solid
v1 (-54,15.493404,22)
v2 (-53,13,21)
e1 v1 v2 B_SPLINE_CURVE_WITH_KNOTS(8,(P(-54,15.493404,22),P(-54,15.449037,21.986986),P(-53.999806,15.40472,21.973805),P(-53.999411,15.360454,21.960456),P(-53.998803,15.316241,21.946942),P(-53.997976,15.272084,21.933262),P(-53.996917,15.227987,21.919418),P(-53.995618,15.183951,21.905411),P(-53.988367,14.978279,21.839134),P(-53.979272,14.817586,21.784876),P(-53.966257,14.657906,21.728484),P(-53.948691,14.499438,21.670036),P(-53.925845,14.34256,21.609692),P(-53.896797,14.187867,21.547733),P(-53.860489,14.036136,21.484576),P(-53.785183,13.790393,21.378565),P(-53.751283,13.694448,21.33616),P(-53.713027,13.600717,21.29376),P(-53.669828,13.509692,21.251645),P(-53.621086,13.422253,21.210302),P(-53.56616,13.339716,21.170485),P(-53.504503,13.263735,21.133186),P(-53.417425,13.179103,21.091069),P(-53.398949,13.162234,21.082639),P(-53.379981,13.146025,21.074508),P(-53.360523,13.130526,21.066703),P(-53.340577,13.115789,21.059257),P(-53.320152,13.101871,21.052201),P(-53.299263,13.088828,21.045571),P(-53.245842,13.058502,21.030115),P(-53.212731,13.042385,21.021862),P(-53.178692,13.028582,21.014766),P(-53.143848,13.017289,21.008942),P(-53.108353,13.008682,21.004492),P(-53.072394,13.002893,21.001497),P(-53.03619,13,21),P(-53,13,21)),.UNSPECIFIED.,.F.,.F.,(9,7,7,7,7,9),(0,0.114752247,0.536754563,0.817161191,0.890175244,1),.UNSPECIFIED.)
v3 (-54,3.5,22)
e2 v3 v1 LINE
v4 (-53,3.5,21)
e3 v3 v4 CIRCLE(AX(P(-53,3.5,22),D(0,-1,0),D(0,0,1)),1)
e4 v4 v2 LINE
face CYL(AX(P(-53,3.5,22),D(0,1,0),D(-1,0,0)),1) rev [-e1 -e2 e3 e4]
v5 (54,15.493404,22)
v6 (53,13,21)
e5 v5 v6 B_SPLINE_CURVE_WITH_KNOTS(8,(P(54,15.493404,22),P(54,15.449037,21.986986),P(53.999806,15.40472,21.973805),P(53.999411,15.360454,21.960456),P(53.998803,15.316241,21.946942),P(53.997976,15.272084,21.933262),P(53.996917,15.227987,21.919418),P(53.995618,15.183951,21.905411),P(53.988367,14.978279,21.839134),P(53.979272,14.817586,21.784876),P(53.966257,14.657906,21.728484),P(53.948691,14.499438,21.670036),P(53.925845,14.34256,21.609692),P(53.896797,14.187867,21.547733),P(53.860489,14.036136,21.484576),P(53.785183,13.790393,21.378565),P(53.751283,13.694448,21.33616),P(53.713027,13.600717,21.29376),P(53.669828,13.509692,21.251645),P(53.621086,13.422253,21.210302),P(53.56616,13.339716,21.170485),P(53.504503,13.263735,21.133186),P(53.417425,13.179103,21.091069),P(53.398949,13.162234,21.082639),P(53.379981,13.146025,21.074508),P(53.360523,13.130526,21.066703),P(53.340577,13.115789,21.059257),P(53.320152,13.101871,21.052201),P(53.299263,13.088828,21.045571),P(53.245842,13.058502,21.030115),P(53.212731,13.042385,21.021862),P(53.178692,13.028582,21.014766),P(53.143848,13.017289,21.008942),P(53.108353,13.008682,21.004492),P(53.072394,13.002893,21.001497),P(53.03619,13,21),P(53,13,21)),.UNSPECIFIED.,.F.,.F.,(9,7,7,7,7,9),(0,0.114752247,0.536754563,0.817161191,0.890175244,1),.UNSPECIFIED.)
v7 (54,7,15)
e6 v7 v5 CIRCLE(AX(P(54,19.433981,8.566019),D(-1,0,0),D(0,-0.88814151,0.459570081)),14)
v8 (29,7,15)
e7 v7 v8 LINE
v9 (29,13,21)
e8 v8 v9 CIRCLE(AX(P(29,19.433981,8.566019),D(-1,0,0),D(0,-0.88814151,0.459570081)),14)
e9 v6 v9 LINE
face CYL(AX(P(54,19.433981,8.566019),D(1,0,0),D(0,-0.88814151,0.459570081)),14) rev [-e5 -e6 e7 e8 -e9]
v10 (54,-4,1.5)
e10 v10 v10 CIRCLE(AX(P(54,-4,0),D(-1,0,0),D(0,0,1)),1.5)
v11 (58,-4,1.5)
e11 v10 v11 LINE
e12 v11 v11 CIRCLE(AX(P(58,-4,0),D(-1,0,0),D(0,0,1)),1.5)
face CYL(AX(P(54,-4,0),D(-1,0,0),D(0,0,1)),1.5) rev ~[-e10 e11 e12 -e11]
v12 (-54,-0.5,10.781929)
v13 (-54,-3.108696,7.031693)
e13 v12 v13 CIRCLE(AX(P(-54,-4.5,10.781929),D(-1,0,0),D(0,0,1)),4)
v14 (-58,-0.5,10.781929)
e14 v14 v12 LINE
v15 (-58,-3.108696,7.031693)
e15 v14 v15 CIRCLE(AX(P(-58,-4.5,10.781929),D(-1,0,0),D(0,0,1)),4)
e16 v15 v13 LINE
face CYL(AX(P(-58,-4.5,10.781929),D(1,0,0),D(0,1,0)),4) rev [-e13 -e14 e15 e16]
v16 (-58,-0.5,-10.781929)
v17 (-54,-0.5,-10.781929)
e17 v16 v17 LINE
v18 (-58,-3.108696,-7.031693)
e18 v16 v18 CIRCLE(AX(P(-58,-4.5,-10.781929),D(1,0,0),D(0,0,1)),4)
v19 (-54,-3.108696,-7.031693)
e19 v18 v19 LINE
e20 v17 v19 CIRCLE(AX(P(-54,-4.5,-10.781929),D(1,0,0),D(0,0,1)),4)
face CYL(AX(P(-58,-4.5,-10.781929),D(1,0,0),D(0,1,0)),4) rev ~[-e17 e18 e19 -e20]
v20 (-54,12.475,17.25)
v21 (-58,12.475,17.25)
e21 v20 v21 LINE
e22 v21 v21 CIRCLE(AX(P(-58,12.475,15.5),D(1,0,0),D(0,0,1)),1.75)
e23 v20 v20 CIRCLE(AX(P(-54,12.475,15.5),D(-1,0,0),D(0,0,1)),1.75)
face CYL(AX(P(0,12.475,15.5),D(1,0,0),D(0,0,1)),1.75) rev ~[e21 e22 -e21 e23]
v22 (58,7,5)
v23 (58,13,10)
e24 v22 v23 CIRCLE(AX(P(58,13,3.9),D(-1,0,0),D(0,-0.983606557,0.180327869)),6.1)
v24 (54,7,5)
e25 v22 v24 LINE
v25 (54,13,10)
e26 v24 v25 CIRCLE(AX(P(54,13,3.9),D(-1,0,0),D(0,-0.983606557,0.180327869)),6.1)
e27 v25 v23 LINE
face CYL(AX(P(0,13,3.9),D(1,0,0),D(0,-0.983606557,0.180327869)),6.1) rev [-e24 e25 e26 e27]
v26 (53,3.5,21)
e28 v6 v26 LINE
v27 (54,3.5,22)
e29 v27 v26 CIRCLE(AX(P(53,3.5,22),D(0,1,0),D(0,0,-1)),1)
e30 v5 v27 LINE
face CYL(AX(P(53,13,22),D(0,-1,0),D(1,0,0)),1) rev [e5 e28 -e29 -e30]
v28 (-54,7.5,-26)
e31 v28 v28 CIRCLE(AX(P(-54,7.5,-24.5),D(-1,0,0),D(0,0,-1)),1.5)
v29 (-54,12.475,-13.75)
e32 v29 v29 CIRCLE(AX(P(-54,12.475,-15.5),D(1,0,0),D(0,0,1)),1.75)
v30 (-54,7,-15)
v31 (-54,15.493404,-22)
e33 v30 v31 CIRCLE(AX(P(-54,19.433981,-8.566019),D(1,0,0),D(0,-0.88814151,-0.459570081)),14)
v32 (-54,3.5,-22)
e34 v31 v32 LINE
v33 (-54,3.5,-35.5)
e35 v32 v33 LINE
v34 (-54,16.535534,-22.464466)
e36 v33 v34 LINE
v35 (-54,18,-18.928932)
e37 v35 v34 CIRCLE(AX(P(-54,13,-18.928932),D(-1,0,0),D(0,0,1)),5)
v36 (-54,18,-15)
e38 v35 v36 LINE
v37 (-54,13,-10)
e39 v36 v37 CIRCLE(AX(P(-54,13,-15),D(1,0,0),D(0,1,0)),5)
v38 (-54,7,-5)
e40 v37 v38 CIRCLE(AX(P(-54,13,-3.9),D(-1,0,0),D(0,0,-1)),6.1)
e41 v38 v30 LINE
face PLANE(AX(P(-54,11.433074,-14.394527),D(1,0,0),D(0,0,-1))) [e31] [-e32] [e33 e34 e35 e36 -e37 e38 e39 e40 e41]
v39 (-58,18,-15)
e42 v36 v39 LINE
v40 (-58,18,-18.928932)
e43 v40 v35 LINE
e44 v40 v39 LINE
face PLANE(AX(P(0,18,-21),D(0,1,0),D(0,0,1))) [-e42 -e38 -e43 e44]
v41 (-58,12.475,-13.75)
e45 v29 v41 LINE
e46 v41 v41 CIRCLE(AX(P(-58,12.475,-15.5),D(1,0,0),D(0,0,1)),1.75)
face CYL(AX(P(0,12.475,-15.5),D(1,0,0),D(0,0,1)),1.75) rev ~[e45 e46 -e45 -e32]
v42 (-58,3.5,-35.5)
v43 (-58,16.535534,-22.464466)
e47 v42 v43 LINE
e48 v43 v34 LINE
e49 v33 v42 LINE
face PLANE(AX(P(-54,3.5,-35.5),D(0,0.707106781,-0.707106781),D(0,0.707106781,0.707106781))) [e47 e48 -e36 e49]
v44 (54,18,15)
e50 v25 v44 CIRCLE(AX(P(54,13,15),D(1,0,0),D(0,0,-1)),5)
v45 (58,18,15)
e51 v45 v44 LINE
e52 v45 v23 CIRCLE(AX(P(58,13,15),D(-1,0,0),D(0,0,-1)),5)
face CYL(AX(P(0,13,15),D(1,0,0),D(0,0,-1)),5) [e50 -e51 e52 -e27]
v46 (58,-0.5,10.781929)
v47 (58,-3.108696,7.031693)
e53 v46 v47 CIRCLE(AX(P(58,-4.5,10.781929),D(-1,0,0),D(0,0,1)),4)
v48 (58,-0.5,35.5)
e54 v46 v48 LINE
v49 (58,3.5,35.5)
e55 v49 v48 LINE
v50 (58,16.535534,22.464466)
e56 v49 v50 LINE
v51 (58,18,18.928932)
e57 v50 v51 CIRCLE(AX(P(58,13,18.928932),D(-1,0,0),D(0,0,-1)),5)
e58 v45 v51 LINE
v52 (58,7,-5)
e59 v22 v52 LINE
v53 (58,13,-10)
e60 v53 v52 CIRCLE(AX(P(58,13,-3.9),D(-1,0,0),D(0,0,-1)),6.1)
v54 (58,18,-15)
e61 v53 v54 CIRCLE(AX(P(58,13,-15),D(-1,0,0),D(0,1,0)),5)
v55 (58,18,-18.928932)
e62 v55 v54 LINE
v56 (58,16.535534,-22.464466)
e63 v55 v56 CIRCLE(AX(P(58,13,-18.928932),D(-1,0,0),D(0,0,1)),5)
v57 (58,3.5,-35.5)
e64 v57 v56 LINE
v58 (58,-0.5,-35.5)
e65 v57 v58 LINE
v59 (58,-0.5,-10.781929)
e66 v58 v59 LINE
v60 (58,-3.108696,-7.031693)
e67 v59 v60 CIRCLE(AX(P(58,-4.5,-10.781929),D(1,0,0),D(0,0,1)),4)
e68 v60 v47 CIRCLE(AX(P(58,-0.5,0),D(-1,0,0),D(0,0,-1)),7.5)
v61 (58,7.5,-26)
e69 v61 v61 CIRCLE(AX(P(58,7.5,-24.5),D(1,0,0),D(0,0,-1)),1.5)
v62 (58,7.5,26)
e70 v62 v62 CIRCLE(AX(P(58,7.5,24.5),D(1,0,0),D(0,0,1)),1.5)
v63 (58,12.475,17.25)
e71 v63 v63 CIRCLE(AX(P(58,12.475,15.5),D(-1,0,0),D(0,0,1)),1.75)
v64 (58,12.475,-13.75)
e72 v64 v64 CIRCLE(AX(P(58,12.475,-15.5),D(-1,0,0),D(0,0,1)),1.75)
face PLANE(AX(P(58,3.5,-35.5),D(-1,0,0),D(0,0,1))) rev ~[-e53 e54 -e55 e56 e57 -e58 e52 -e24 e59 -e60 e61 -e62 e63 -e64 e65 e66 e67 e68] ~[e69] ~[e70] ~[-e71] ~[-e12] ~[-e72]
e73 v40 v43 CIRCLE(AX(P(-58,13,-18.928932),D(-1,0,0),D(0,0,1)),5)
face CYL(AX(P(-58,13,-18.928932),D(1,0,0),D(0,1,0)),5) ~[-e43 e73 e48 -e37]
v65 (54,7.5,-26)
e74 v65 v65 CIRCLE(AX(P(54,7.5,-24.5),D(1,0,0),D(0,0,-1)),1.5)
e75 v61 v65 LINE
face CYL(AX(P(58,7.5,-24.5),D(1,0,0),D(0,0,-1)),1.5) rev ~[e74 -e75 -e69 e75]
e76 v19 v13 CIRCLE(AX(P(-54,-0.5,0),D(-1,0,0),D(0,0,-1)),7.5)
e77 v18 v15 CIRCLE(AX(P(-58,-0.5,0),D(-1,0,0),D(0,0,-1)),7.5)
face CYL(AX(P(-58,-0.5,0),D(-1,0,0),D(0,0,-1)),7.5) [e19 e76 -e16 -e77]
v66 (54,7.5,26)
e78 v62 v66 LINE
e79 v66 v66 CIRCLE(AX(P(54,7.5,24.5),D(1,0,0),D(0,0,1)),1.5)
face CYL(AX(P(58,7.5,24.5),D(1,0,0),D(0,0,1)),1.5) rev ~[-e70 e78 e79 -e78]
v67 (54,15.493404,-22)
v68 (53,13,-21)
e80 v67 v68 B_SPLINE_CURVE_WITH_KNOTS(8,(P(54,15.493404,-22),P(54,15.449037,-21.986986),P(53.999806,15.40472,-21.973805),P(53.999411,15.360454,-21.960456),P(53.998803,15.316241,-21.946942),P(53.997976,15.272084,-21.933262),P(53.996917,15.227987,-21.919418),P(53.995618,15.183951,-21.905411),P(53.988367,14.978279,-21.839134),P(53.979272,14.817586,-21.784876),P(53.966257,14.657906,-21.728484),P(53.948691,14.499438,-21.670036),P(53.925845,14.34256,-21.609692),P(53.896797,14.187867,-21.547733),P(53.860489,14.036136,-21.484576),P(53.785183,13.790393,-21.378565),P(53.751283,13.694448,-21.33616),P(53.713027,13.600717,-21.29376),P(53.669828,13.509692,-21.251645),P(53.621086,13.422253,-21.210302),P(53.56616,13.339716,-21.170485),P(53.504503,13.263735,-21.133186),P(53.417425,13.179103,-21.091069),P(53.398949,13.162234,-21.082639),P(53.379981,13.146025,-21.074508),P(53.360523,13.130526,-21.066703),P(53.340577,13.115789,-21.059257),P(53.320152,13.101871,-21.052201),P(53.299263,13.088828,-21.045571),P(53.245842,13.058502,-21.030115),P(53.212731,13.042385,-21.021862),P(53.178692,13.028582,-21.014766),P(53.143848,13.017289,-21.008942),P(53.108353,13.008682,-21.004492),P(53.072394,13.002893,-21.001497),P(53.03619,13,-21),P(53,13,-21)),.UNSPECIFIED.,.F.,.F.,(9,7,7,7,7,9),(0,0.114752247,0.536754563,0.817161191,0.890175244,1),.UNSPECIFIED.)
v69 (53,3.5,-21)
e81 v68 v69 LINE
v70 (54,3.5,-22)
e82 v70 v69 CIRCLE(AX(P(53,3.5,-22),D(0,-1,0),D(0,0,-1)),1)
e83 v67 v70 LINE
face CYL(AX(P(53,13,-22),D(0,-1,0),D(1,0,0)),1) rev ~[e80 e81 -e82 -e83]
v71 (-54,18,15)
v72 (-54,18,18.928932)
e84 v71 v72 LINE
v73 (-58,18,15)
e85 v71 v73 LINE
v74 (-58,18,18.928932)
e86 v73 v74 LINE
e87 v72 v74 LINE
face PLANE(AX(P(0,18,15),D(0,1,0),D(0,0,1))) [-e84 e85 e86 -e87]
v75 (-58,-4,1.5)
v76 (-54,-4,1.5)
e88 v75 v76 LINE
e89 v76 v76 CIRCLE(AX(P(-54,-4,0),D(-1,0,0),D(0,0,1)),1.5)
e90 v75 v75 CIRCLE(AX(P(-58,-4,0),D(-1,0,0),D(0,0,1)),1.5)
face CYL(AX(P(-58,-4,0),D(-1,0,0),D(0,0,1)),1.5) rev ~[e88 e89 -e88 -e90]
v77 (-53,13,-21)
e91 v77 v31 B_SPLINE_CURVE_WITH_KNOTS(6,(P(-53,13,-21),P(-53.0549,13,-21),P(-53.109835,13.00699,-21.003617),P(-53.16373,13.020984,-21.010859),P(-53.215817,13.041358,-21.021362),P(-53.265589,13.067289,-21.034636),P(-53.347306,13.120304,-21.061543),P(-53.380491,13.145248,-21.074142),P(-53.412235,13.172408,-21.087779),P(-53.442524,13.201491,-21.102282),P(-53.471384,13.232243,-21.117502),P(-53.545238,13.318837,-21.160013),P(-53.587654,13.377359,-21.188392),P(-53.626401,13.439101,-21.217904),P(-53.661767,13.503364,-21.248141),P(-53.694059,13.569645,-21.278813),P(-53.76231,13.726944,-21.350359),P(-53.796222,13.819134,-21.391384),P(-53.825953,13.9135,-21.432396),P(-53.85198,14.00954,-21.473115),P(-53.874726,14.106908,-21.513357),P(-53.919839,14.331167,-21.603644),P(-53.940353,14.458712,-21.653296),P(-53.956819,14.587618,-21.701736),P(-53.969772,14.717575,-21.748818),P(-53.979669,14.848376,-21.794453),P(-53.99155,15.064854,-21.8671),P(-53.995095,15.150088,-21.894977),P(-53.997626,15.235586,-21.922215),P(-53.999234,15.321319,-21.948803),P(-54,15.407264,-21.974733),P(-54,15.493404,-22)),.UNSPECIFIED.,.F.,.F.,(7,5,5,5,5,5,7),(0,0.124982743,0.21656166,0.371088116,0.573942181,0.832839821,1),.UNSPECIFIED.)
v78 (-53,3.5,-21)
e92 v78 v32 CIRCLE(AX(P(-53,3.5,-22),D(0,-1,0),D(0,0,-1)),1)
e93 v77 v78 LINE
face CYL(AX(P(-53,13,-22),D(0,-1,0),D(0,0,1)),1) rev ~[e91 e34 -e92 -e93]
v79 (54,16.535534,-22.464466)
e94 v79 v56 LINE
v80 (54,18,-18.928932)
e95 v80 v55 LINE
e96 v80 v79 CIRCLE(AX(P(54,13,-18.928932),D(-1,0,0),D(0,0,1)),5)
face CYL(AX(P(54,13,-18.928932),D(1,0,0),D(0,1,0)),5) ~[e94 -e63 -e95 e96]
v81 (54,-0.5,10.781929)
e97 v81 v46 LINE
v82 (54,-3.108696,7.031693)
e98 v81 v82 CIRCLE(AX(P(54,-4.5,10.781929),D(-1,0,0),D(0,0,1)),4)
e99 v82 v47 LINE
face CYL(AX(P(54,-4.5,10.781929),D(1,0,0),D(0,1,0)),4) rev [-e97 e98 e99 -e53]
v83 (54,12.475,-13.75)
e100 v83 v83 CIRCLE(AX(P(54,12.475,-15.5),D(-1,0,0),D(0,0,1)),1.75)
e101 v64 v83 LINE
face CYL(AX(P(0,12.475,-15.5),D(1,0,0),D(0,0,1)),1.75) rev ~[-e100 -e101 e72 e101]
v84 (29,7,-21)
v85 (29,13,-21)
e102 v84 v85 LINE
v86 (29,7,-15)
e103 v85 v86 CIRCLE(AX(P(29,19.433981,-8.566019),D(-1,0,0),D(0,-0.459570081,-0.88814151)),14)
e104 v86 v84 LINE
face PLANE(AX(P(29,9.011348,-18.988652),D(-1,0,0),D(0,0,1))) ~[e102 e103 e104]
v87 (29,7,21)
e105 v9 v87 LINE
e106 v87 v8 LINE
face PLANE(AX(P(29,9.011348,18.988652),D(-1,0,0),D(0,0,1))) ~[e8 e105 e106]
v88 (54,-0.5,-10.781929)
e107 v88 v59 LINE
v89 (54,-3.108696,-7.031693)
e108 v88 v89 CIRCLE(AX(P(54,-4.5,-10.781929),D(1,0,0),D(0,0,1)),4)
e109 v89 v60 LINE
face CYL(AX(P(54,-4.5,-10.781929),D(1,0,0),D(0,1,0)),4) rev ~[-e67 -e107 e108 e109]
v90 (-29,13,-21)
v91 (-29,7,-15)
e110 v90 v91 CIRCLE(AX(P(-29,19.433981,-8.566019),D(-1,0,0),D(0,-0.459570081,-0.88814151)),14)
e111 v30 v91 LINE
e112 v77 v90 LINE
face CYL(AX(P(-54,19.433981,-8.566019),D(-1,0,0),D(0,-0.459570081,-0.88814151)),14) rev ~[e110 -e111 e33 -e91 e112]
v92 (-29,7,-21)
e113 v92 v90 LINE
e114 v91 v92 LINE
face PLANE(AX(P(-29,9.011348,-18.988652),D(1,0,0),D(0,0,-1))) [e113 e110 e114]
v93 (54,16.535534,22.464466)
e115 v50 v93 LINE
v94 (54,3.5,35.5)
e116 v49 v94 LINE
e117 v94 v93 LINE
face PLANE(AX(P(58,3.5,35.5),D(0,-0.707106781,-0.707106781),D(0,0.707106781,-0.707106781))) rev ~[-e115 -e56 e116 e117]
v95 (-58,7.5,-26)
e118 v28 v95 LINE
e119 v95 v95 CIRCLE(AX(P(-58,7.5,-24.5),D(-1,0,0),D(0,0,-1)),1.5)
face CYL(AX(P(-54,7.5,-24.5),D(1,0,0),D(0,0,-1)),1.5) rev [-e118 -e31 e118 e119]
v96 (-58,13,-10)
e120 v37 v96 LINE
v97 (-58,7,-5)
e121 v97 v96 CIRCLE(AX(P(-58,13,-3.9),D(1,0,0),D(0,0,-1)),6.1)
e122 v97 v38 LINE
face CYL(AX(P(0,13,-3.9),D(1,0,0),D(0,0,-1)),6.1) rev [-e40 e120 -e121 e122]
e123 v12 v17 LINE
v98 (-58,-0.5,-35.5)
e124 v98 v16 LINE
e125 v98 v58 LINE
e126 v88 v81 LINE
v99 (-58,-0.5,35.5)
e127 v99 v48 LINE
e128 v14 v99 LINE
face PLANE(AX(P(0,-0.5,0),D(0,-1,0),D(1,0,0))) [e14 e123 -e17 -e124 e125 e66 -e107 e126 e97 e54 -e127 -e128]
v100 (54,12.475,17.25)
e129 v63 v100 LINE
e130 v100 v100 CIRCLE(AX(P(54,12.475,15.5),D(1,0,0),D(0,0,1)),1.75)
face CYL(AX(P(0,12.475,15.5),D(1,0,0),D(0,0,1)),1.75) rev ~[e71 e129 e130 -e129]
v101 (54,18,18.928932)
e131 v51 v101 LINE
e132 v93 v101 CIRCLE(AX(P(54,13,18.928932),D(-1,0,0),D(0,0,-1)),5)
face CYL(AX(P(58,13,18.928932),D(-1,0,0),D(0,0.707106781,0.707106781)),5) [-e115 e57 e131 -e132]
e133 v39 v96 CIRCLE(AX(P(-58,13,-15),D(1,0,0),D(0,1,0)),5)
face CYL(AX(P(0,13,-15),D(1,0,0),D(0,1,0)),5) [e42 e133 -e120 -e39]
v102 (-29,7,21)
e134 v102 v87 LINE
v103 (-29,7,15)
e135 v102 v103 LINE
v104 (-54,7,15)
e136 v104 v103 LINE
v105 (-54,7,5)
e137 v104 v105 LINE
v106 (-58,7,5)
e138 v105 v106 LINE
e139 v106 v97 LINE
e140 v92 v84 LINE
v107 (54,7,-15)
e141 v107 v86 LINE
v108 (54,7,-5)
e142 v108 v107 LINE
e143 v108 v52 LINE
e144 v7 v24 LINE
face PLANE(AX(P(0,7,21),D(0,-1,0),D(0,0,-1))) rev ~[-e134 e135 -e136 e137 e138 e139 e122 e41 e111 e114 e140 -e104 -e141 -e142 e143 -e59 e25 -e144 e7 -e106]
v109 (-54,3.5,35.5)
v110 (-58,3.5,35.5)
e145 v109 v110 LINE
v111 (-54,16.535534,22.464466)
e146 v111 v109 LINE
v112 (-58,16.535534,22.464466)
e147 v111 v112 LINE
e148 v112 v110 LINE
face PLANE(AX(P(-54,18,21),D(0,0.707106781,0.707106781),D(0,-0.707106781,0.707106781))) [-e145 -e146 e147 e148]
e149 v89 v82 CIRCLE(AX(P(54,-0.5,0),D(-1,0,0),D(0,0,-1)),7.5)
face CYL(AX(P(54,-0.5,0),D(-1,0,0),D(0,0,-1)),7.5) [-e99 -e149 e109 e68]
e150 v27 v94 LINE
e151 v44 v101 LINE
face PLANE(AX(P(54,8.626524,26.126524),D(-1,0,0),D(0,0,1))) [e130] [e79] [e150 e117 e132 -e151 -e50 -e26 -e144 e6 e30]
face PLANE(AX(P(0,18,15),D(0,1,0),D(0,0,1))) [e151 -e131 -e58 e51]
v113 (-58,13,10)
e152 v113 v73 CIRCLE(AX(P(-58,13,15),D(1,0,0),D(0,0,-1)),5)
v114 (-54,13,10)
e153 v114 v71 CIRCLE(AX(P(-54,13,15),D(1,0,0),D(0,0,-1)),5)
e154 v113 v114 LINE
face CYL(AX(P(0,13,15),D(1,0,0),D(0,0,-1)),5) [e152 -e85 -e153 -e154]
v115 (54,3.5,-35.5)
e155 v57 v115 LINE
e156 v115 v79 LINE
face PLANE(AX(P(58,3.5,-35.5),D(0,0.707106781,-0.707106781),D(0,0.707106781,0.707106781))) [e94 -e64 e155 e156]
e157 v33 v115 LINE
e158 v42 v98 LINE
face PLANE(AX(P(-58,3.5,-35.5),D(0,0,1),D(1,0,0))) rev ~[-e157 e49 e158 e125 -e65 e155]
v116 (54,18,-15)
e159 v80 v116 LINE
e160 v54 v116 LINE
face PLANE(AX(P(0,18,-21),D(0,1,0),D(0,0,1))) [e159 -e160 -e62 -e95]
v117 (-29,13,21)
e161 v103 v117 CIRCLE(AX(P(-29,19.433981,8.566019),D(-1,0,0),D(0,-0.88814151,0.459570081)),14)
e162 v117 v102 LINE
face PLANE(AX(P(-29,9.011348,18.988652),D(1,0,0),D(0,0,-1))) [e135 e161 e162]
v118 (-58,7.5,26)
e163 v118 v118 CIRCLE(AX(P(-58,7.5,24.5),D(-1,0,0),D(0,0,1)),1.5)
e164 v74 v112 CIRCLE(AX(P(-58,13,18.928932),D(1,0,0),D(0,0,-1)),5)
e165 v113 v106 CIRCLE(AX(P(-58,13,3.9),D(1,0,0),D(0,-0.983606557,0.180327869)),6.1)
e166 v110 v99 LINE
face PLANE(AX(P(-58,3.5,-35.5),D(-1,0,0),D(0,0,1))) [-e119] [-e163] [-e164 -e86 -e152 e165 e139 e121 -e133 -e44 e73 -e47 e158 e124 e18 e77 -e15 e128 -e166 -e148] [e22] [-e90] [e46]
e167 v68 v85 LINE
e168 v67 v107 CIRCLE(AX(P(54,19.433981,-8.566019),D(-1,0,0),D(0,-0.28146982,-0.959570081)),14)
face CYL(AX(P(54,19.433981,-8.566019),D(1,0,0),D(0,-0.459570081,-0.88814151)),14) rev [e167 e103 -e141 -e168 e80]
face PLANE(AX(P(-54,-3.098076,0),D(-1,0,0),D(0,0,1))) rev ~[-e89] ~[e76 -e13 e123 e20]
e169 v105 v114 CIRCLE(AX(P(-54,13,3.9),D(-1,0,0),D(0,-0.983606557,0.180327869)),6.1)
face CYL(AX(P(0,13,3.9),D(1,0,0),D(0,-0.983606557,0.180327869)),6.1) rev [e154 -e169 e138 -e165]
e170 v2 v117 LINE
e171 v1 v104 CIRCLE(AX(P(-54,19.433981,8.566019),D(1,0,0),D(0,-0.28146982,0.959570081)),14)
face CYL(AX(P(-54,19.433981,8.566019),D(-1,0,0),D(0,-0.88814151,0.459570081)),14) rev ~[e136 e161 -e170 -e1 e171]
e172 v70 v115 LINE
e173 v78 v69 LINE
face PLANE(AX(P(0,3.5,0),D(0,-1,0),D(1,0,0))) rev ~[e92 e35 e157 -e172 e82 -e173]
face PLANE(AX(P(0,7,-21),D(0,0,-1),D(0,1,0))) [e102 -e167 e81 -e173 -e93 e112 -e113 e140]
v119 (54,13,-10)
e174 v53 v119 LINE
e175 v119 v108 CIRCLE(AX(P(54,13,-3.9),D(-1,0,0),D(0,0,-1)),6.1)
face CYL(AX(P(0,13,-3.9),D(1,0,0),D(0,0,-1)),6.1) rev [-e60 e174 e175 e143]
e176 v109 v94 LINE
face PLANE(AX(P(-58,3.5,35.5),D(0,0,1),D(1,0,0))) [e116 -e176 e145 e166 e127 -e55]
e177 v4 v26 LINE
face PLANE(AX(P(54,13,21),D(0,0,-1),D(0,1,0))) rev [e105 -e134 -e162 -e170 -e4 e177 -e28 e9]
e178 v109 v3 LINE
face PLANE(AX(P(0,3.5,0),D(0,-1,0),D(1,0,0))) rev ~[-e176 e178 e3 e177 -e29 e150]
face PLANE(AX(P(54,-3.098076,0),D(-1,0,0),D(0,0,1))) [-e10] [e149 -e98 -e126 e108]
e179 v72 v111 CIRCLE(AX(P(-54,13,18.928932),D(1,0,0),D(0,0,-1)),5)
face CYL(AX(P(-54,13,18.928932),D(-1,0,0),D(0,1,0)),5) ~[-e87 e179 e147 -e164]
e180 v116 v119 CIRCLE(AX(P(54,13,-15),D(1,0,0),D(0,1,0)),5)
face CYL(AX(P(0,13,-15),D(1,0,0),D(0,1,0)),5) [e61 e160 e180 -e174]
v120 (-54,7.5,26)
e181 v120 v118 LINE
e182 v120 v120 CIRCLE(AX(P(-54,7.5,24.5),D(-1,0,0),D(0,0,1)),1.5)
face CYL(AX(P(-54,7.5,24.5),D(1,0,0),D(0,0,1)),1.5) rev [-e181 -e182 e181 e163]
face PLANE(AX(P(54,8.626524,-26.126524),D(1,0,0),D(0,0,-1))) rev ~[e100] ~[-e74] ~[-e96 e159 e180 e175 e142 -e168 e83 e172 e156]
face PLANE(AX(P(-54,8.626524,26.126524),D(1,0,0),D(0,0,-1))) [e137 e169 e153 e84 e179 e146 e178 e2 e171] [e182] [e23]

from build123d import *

# Parameters (mm, degrees)
BOSS_EXTRUDE1_START             = 3.5
SKETCH1_W                       = 116
SKETCH1_H                       = 42
BOSS_EXTRUDE1_DEPTH             = 3.5
BOSS_EXTRUDE2_REACH             = 64.081
SKETCH2_R                       = 1.75
BOSS_EXTRUDE2_DIRECTION_2_REACH = 64.081
SKETCH2_3_R                     = 1.75
CUT_EXTRUDE1_DEPTH              = 54
BOSS_EXTRUDE3_DEPTH             = 25
BOSS_EXTRUDE5_START             = -4
SKETCH4_R                       = 1.5
BOSS_EXTRUDE5_DEPTH             = 4
SKETCH5_R                       = 1.5
BOSS_EXTRUDE6_DEPTH             = 4
FILLET1_R                       = 5
FILLET2_R                       = 1
SKETCH6_W                       = 116
SKETCH6_H                       = 71
BOSS_EXTRUDE7_DEPTH             = 4
SKETCH7_R                       = 1.5
BOSS_EXTRUDE8_DEPTH             = 4
LPATTERN1_COUNT                 = 2
LPATTERN1_PITCH                 = 112
FILLET3_R                       = 4


with BuildPart() as part:
    # Sketch1 → Boss-Extrude1 (new body)
    with BuildSketch(Plane(origin=(0, 0, 0), x_dir=(1, 0, 0), z_dir=(0, 1, 0)).offset(BOSS_EXTRUDE1_START)):
        Rectangle(SKETCH1_W, SKETCH1_H)
    extrude(amount=BOSS_EXTRUDE1_DEPTH)

    # Boss-Extrude2: up to this face of the body (flat: up to its plane)
    boss_extrude2_end = Plane(part.part.faces().sort_by_distance((58, 5.25, 0))[0])
    # Sketch2 → Boss-Extrude2 (add, up to the picked face)
    with BuildSketch(Plane(origin=(0, 0, 0), x_dir=(0, 0, -1), z_dir=(1, 0, 0)), mode=Mode.PRIVATE) as boss_extrude2_sk1:
        with BuildLine():
            ThreePointArc((10, 13), (8.586149806, 9.094875162), (5, 7))
            Line((5, 7), (10, 7))
            Line((10, 7), (21, 7))
            Line((21, 7), (21, 18))
            Line((21, 18), (15, 18))
            ThreePointArc((15, 18), (11.464466094, 16.535533906), (10, 13))
        make_face()
        with Locations(Location((15.5, 12.475, 0), (0, 0, 180))):
            Circle(SKETCH2_R, mode=Mode.SUBTRACT)
    boss_extrude2_tool1 = split(extrude(boss_extrude2_sk1.sketch, amount=BOSS_EXTRUDE2_REACH, mode=Mode.PRIVATE), bisect_by=boss_extrude2_end, keep=Keep.BOTH, mode=Mode.PRIVATE)
    # Sketch2 → Boss-Extrude2 (add, up to the picked face)
    with BuildSketch(Plane(origin=(0, 0, 0), x_dir=(0, 0, -1), z_dir=(1, 0, 0)), mode=Mode.PRIVATE) as boss_extrude2_sk2:
        with BuildLine():
            Line((-21, 18), (-21, 7))
            Line((-21, 7), (-5, 7))
            ThreePointArc((-5, 7), (-8.586149806, 9.094875162), (-10, 13))
            ThreePointArc((-10, 13), (-11.464466094, 16.535533906), (-15, 18))
            Line((-15, 18), (-21, 18))
        make_face()
        with Locations(Location((-15.5, 12.475, 0), (0, 0, 180))):
            Circle(SKETCH2_R, mode=Mode.SUBTRACT)
    boss_extrude2_tool2 = split(extrude(boss_extrude2_sk2.sketch, amount=BOSS_EXTRUDE2_REACH, mode=Mode.PRIVATE), bisect_by=boss_extrude2_end, keep=Keep.BOTH, mode=Mode.PRIVATE)
    add(boss_extrude2_tool1.solids().sort_by(Axis((0, 8.970574, -8.735311), (1, 0, 0)))[0])
    add(boss_extrude2_tool2.solids().sort_by(Axis((0, 12.5, 20.805835), (1, 0, 0)))[0])

    # Boss-Extrude2 direction 2: up to this face of the body (flat: up to its plane)
    boss_extrude2_direction_2_end = Plane(part.part.faces().sort_by_distance((-58, 5.25, 0))[0])
    # Sketch2 → Boss-Extrude2 direction 2 (add, up to the picked face)
    with BuildSketch(Plane(origin=(0, 0, 0), x_dir=(0, 0, -1), z_dir=(1, 0, 0)), mode=Mode.PRIVATE) as boss_extrude2_direction_2_sk1:
        with BuildLine():
            ThreePointArc((10, 13), (8.586149806, 9.094875162), (5, 7))
            Line((5, 7), (10, 7))
            Line((10, 7), (21, 7))
            Line((21, 7), (21, 18))
            Line((21, 18), (15, 18))
            ThreePointArc((15, 18), (11.464466094, 16.535533906), (10, 13))
        make_face()
        with Locations(Location((15.5, 12.475, 0), (0, 0, 180))):
            Circle(SKETCH2_R, mode=Mode.SUBTRACT)
    boss_extrude2_direction_2_tool1 = split(extrude(boss_extrude2_direction_2_sk1.sketch, amount=-BOSS_EXTRUDE2_DIRECTION_2_REACH, mode=Mode.PRIVATE), bisect_by=boss_extrude2_direction_2_end, keep=Keep.BOTH, mode=Mode.PRIVATE)
    # Sketch2 → Boss-Extrude2 direction 2 (add, up to the picked face)
    with BuildSketch(Plane(origin=(0, 0, 0), x_dir=(0, 0, -1), z_dir=(1, 0, 0)), mode=Mode.PRIVATE) as boss_extrude2_direction_2_sk2:
        with BuildLine():
            Line((-21, 18), (-21, 7))
            Line((-21, 7), (-5, 7))
            ThreePointArc((-5, 7), (-8.586149806, 9.094875162), (-10, 13))
            ThreePointArc((-10, 13), (-11.464466094, 16.535533906), (-15, 18))
            Line((-15, 18), (-21, 18))
        make_face()
        with Locations(Location((-15.5, 12.475, 0), (0, 0, 180))):
            Circle(SKETCH2_R, mode=Mode.SUBTRACT)
    boss_extrude2_direction_2_tool2 = split(extrude(boss_extrude2_direction_2_sk2.sketch, amount=-BOSS_EXTRUDE2_DIRECTION_2_REACH, mode=Mode.PRIVATE), bisect_by=boss_extrude2_direction_2_end, keep=Keep.BOTH, mode=Mode.PRIVATE)
    add(boss_extrude2_direction_2_tool1.solids().sort_by(Axis((0, 8.970574, -8.735311), (-1, 0, 0)))[0])
    add(boss_extrude2_direction_2_tool2.solids().sort_by(Axis((0, 12.5, 20.805835), (-1, 0, 0)))[0])

    # Sketch2<3> → Cut-Extrude1 (cut, symmetric)
    # profile 1 of 2: a face of its own
    with BuildSketch(Plane(origin=(0, 0, 0), x_dir=(0, 0, -1), z_dir=(1, 0, 0))):
        with BuildLine():
            ThreePointArc((10, 13), (8.586149806, 9.094875162), (5, 7))
            Line((5, 7), (10, 7))
            Line((10, 7), (21, 7))
            Line((21, 7), (21, 18))
            Line((21, 18), (15, 18))
            ThreePointArc((15, 18), (11.464466094, 16.535533906), (10, 13))
        make_face()
        with Locations((15.5, 12.475)):
            Circle(SKETCH2_3_R, mode=Mode.SUBTRACT)
    # profile 2 of 2: a face of its own
    with BuildSketch(Plane(origin=(0, 0, 0), x_dir=(0, 0, -1), z_dir=(1, 0, 0))):
        with BuildLine():
            Line((-21, 18), (-21, 7))
            Line((-21, 7), (-5, 7))
            ThreePointArc((-5, 7), (-8.586149806, 9.094875162), (-10, 13))
            ThreePointArc((-10, 13), (-11.464466094, 16.535533906), (-15, 18))
            Line((-15, 18), (-21, 18))
        make_face()
        with Locations((-15.5, 12.475)):
            Circle(SKETCH2_3_R, mode=Mode.SUBTRACT)
    extrude(amount=CUT_EXTRUDE1_DEPTH, both=True, mode=Mode.SUBTRACT)

    # Sketch3 → Boss-Extrude3 (add)
    with BuildSketch(Plane(origin=(-54, 0, 0), x_dir=(0, 0, -1), z_dir=(1, 0, 0))):
        with BuildLine():
            Line((-21, 7), (-15, 7))
            ThreePointArc((-15, 7), (-18.465513805, 9.534486195), (-21, 13))
            Line((-21, 13), (-21, 7))
        make_face()
        with BuildLine():
            Line((21, 7), (21, 13))
            ThreePointArc((21, 13), (18.465513805, 9.534486195), (15, 7))
            Line((15, 7), (21, 7))
        make_face()
    boss_extrude3 = extrude(amount=BOSS_EXTRUDE3_DEPTH)

    # Mirror4: Boss-Extrude3 across plane
    add(boss_extrude3.mirror(Plane(origin=(0, 0, 0), x_dir=(0, 0, 1), z_dir=(1, 0, 0))))

    # Sketch4 → Boss-Extrude5 (add)
    # profile 1 of 2: a face of its own
    with BuildSketch(Plane.ZY.offset(58).offset(BOSS_EXTRUDE5_START)):
        Polygon((21, 18), (35.5, 3.5), (21, 3.5), align=None)
        with Locations((24.5, 7.5)):
            Circle(SKETCH4_R, mode=Mode.SUBTRACT)
    # profile 2 of 2: a face of its own
    with BuildSketch(Plane.ZY.offset(58).offset(BOSS_EXTRUDE5_START)):
        Polygon((-21, 18), (-21, 3.5), (-35.5, 3.5), align=None)
        with Locations(Location((-24.5, 7.5, 0), (0, 0, 180))):
            Circle(SKETCH4_R, mode=Mode.SUBTRACT)
    extrude(amount=BOSS_EXTRUDE5_DEPTH)

    # Sketch5 → Boss-Extrude6 (add)
    # profile 1 of 2: a face of its own
    with BuildSketch(Plane(origin=(58, 0, 0), x_dir=(0, 0, -1), z_dir=(1, 0, 0))):
        Polygon((-35.5, 3.5), (-21, 18), (-21, 3.5), align=None)
        with Locations(Location((-24.5, 7.5, 0), (0, 0, 180))):
            Circle(SKETCH5_R, mode=Mode.SUBTRACT)
    # profile 2 of 2: a face of its own
    with BuildSketch(Plane(origin=(58, 0, 0), x_dir=(0, 0, -1), z_dir=(1, 0, 0))):
        Polygon((21, 18), (21, 3.5), (35.5, 3.5), align=None)
        with Locations((24.5, 7.5)):
            Circle(SKETCH5_R, mode=Mode.SUBTRACT)
    extrude(amount=-BOSS_EXTRUDE6_DEPTH)

    # Fillet1
    fillet1_edges = [part.edges().sort_by_distance(p)[0] for p in [
        (56, 18, -21),
        (56, 18, 21),
        (-56, 18, 21),
        (-56, 18, -21),
    ]]
    fillet(fillet1_edges, radius=FILLET1_R)

    # Fillet2
    fillet2_edges = [part.edges().sort_by_distance(p)[0] for p in [
        (-54, 8.25, 21),
        (-54, 8.25, -21),
        (54, 8.25, 21),
        (54, 8.25, -21),
    ]]
    fillet(fillet2_edges, radius=FILLET2_R)

    # Sketch6 → Boss-Extrude7 (add)
    with BuildSketch(Plane.XZ.offset(-3.5)):
        Rectangle(SKETCH6_W, SKETCH6_H)
    extrude(amount=BOSS_EXTRUDE7_DEPTH)

    # Sketch7 → Boss-Extrude8 (add)
    with BuildSketch(Plane.ZY.offset(58)):
        with BuildLine():
            Line((7.5, -0.5), (-7.5, -0.5))
            ThreePointArc((-7.5, -0.5), (0, -8), (7.5, -0.5))
        make_face()
        with Locations((0, -4)):
            Circle(SKETCH7_R, mode=Mode.SUBTRACT)
    boss_extrude8 = extrude(amount=-BOSS_EXTRUDE8_DEPTH)

    # LPattern1: Boss-Extrude8 ×2
    with Locations(*[(i * LPATTERN1_PITCH, 0, 0) for i in range(1, LPATTERN1_COUNT)]):
        add(boss_extrude8)

    # Fillet3
    fillet3_edges = [part.edges().sort_by_distance(p)[0] for p in [
        (-56, -0.5, 7.5),
        (-56, -0.5, -7.5),
        (56, -0.5, 7.5),
        (56, -0.5, -7.5),
    ]]
    fillet(fillet3_edges, radius=FILLET3_R)


solid = part.part
